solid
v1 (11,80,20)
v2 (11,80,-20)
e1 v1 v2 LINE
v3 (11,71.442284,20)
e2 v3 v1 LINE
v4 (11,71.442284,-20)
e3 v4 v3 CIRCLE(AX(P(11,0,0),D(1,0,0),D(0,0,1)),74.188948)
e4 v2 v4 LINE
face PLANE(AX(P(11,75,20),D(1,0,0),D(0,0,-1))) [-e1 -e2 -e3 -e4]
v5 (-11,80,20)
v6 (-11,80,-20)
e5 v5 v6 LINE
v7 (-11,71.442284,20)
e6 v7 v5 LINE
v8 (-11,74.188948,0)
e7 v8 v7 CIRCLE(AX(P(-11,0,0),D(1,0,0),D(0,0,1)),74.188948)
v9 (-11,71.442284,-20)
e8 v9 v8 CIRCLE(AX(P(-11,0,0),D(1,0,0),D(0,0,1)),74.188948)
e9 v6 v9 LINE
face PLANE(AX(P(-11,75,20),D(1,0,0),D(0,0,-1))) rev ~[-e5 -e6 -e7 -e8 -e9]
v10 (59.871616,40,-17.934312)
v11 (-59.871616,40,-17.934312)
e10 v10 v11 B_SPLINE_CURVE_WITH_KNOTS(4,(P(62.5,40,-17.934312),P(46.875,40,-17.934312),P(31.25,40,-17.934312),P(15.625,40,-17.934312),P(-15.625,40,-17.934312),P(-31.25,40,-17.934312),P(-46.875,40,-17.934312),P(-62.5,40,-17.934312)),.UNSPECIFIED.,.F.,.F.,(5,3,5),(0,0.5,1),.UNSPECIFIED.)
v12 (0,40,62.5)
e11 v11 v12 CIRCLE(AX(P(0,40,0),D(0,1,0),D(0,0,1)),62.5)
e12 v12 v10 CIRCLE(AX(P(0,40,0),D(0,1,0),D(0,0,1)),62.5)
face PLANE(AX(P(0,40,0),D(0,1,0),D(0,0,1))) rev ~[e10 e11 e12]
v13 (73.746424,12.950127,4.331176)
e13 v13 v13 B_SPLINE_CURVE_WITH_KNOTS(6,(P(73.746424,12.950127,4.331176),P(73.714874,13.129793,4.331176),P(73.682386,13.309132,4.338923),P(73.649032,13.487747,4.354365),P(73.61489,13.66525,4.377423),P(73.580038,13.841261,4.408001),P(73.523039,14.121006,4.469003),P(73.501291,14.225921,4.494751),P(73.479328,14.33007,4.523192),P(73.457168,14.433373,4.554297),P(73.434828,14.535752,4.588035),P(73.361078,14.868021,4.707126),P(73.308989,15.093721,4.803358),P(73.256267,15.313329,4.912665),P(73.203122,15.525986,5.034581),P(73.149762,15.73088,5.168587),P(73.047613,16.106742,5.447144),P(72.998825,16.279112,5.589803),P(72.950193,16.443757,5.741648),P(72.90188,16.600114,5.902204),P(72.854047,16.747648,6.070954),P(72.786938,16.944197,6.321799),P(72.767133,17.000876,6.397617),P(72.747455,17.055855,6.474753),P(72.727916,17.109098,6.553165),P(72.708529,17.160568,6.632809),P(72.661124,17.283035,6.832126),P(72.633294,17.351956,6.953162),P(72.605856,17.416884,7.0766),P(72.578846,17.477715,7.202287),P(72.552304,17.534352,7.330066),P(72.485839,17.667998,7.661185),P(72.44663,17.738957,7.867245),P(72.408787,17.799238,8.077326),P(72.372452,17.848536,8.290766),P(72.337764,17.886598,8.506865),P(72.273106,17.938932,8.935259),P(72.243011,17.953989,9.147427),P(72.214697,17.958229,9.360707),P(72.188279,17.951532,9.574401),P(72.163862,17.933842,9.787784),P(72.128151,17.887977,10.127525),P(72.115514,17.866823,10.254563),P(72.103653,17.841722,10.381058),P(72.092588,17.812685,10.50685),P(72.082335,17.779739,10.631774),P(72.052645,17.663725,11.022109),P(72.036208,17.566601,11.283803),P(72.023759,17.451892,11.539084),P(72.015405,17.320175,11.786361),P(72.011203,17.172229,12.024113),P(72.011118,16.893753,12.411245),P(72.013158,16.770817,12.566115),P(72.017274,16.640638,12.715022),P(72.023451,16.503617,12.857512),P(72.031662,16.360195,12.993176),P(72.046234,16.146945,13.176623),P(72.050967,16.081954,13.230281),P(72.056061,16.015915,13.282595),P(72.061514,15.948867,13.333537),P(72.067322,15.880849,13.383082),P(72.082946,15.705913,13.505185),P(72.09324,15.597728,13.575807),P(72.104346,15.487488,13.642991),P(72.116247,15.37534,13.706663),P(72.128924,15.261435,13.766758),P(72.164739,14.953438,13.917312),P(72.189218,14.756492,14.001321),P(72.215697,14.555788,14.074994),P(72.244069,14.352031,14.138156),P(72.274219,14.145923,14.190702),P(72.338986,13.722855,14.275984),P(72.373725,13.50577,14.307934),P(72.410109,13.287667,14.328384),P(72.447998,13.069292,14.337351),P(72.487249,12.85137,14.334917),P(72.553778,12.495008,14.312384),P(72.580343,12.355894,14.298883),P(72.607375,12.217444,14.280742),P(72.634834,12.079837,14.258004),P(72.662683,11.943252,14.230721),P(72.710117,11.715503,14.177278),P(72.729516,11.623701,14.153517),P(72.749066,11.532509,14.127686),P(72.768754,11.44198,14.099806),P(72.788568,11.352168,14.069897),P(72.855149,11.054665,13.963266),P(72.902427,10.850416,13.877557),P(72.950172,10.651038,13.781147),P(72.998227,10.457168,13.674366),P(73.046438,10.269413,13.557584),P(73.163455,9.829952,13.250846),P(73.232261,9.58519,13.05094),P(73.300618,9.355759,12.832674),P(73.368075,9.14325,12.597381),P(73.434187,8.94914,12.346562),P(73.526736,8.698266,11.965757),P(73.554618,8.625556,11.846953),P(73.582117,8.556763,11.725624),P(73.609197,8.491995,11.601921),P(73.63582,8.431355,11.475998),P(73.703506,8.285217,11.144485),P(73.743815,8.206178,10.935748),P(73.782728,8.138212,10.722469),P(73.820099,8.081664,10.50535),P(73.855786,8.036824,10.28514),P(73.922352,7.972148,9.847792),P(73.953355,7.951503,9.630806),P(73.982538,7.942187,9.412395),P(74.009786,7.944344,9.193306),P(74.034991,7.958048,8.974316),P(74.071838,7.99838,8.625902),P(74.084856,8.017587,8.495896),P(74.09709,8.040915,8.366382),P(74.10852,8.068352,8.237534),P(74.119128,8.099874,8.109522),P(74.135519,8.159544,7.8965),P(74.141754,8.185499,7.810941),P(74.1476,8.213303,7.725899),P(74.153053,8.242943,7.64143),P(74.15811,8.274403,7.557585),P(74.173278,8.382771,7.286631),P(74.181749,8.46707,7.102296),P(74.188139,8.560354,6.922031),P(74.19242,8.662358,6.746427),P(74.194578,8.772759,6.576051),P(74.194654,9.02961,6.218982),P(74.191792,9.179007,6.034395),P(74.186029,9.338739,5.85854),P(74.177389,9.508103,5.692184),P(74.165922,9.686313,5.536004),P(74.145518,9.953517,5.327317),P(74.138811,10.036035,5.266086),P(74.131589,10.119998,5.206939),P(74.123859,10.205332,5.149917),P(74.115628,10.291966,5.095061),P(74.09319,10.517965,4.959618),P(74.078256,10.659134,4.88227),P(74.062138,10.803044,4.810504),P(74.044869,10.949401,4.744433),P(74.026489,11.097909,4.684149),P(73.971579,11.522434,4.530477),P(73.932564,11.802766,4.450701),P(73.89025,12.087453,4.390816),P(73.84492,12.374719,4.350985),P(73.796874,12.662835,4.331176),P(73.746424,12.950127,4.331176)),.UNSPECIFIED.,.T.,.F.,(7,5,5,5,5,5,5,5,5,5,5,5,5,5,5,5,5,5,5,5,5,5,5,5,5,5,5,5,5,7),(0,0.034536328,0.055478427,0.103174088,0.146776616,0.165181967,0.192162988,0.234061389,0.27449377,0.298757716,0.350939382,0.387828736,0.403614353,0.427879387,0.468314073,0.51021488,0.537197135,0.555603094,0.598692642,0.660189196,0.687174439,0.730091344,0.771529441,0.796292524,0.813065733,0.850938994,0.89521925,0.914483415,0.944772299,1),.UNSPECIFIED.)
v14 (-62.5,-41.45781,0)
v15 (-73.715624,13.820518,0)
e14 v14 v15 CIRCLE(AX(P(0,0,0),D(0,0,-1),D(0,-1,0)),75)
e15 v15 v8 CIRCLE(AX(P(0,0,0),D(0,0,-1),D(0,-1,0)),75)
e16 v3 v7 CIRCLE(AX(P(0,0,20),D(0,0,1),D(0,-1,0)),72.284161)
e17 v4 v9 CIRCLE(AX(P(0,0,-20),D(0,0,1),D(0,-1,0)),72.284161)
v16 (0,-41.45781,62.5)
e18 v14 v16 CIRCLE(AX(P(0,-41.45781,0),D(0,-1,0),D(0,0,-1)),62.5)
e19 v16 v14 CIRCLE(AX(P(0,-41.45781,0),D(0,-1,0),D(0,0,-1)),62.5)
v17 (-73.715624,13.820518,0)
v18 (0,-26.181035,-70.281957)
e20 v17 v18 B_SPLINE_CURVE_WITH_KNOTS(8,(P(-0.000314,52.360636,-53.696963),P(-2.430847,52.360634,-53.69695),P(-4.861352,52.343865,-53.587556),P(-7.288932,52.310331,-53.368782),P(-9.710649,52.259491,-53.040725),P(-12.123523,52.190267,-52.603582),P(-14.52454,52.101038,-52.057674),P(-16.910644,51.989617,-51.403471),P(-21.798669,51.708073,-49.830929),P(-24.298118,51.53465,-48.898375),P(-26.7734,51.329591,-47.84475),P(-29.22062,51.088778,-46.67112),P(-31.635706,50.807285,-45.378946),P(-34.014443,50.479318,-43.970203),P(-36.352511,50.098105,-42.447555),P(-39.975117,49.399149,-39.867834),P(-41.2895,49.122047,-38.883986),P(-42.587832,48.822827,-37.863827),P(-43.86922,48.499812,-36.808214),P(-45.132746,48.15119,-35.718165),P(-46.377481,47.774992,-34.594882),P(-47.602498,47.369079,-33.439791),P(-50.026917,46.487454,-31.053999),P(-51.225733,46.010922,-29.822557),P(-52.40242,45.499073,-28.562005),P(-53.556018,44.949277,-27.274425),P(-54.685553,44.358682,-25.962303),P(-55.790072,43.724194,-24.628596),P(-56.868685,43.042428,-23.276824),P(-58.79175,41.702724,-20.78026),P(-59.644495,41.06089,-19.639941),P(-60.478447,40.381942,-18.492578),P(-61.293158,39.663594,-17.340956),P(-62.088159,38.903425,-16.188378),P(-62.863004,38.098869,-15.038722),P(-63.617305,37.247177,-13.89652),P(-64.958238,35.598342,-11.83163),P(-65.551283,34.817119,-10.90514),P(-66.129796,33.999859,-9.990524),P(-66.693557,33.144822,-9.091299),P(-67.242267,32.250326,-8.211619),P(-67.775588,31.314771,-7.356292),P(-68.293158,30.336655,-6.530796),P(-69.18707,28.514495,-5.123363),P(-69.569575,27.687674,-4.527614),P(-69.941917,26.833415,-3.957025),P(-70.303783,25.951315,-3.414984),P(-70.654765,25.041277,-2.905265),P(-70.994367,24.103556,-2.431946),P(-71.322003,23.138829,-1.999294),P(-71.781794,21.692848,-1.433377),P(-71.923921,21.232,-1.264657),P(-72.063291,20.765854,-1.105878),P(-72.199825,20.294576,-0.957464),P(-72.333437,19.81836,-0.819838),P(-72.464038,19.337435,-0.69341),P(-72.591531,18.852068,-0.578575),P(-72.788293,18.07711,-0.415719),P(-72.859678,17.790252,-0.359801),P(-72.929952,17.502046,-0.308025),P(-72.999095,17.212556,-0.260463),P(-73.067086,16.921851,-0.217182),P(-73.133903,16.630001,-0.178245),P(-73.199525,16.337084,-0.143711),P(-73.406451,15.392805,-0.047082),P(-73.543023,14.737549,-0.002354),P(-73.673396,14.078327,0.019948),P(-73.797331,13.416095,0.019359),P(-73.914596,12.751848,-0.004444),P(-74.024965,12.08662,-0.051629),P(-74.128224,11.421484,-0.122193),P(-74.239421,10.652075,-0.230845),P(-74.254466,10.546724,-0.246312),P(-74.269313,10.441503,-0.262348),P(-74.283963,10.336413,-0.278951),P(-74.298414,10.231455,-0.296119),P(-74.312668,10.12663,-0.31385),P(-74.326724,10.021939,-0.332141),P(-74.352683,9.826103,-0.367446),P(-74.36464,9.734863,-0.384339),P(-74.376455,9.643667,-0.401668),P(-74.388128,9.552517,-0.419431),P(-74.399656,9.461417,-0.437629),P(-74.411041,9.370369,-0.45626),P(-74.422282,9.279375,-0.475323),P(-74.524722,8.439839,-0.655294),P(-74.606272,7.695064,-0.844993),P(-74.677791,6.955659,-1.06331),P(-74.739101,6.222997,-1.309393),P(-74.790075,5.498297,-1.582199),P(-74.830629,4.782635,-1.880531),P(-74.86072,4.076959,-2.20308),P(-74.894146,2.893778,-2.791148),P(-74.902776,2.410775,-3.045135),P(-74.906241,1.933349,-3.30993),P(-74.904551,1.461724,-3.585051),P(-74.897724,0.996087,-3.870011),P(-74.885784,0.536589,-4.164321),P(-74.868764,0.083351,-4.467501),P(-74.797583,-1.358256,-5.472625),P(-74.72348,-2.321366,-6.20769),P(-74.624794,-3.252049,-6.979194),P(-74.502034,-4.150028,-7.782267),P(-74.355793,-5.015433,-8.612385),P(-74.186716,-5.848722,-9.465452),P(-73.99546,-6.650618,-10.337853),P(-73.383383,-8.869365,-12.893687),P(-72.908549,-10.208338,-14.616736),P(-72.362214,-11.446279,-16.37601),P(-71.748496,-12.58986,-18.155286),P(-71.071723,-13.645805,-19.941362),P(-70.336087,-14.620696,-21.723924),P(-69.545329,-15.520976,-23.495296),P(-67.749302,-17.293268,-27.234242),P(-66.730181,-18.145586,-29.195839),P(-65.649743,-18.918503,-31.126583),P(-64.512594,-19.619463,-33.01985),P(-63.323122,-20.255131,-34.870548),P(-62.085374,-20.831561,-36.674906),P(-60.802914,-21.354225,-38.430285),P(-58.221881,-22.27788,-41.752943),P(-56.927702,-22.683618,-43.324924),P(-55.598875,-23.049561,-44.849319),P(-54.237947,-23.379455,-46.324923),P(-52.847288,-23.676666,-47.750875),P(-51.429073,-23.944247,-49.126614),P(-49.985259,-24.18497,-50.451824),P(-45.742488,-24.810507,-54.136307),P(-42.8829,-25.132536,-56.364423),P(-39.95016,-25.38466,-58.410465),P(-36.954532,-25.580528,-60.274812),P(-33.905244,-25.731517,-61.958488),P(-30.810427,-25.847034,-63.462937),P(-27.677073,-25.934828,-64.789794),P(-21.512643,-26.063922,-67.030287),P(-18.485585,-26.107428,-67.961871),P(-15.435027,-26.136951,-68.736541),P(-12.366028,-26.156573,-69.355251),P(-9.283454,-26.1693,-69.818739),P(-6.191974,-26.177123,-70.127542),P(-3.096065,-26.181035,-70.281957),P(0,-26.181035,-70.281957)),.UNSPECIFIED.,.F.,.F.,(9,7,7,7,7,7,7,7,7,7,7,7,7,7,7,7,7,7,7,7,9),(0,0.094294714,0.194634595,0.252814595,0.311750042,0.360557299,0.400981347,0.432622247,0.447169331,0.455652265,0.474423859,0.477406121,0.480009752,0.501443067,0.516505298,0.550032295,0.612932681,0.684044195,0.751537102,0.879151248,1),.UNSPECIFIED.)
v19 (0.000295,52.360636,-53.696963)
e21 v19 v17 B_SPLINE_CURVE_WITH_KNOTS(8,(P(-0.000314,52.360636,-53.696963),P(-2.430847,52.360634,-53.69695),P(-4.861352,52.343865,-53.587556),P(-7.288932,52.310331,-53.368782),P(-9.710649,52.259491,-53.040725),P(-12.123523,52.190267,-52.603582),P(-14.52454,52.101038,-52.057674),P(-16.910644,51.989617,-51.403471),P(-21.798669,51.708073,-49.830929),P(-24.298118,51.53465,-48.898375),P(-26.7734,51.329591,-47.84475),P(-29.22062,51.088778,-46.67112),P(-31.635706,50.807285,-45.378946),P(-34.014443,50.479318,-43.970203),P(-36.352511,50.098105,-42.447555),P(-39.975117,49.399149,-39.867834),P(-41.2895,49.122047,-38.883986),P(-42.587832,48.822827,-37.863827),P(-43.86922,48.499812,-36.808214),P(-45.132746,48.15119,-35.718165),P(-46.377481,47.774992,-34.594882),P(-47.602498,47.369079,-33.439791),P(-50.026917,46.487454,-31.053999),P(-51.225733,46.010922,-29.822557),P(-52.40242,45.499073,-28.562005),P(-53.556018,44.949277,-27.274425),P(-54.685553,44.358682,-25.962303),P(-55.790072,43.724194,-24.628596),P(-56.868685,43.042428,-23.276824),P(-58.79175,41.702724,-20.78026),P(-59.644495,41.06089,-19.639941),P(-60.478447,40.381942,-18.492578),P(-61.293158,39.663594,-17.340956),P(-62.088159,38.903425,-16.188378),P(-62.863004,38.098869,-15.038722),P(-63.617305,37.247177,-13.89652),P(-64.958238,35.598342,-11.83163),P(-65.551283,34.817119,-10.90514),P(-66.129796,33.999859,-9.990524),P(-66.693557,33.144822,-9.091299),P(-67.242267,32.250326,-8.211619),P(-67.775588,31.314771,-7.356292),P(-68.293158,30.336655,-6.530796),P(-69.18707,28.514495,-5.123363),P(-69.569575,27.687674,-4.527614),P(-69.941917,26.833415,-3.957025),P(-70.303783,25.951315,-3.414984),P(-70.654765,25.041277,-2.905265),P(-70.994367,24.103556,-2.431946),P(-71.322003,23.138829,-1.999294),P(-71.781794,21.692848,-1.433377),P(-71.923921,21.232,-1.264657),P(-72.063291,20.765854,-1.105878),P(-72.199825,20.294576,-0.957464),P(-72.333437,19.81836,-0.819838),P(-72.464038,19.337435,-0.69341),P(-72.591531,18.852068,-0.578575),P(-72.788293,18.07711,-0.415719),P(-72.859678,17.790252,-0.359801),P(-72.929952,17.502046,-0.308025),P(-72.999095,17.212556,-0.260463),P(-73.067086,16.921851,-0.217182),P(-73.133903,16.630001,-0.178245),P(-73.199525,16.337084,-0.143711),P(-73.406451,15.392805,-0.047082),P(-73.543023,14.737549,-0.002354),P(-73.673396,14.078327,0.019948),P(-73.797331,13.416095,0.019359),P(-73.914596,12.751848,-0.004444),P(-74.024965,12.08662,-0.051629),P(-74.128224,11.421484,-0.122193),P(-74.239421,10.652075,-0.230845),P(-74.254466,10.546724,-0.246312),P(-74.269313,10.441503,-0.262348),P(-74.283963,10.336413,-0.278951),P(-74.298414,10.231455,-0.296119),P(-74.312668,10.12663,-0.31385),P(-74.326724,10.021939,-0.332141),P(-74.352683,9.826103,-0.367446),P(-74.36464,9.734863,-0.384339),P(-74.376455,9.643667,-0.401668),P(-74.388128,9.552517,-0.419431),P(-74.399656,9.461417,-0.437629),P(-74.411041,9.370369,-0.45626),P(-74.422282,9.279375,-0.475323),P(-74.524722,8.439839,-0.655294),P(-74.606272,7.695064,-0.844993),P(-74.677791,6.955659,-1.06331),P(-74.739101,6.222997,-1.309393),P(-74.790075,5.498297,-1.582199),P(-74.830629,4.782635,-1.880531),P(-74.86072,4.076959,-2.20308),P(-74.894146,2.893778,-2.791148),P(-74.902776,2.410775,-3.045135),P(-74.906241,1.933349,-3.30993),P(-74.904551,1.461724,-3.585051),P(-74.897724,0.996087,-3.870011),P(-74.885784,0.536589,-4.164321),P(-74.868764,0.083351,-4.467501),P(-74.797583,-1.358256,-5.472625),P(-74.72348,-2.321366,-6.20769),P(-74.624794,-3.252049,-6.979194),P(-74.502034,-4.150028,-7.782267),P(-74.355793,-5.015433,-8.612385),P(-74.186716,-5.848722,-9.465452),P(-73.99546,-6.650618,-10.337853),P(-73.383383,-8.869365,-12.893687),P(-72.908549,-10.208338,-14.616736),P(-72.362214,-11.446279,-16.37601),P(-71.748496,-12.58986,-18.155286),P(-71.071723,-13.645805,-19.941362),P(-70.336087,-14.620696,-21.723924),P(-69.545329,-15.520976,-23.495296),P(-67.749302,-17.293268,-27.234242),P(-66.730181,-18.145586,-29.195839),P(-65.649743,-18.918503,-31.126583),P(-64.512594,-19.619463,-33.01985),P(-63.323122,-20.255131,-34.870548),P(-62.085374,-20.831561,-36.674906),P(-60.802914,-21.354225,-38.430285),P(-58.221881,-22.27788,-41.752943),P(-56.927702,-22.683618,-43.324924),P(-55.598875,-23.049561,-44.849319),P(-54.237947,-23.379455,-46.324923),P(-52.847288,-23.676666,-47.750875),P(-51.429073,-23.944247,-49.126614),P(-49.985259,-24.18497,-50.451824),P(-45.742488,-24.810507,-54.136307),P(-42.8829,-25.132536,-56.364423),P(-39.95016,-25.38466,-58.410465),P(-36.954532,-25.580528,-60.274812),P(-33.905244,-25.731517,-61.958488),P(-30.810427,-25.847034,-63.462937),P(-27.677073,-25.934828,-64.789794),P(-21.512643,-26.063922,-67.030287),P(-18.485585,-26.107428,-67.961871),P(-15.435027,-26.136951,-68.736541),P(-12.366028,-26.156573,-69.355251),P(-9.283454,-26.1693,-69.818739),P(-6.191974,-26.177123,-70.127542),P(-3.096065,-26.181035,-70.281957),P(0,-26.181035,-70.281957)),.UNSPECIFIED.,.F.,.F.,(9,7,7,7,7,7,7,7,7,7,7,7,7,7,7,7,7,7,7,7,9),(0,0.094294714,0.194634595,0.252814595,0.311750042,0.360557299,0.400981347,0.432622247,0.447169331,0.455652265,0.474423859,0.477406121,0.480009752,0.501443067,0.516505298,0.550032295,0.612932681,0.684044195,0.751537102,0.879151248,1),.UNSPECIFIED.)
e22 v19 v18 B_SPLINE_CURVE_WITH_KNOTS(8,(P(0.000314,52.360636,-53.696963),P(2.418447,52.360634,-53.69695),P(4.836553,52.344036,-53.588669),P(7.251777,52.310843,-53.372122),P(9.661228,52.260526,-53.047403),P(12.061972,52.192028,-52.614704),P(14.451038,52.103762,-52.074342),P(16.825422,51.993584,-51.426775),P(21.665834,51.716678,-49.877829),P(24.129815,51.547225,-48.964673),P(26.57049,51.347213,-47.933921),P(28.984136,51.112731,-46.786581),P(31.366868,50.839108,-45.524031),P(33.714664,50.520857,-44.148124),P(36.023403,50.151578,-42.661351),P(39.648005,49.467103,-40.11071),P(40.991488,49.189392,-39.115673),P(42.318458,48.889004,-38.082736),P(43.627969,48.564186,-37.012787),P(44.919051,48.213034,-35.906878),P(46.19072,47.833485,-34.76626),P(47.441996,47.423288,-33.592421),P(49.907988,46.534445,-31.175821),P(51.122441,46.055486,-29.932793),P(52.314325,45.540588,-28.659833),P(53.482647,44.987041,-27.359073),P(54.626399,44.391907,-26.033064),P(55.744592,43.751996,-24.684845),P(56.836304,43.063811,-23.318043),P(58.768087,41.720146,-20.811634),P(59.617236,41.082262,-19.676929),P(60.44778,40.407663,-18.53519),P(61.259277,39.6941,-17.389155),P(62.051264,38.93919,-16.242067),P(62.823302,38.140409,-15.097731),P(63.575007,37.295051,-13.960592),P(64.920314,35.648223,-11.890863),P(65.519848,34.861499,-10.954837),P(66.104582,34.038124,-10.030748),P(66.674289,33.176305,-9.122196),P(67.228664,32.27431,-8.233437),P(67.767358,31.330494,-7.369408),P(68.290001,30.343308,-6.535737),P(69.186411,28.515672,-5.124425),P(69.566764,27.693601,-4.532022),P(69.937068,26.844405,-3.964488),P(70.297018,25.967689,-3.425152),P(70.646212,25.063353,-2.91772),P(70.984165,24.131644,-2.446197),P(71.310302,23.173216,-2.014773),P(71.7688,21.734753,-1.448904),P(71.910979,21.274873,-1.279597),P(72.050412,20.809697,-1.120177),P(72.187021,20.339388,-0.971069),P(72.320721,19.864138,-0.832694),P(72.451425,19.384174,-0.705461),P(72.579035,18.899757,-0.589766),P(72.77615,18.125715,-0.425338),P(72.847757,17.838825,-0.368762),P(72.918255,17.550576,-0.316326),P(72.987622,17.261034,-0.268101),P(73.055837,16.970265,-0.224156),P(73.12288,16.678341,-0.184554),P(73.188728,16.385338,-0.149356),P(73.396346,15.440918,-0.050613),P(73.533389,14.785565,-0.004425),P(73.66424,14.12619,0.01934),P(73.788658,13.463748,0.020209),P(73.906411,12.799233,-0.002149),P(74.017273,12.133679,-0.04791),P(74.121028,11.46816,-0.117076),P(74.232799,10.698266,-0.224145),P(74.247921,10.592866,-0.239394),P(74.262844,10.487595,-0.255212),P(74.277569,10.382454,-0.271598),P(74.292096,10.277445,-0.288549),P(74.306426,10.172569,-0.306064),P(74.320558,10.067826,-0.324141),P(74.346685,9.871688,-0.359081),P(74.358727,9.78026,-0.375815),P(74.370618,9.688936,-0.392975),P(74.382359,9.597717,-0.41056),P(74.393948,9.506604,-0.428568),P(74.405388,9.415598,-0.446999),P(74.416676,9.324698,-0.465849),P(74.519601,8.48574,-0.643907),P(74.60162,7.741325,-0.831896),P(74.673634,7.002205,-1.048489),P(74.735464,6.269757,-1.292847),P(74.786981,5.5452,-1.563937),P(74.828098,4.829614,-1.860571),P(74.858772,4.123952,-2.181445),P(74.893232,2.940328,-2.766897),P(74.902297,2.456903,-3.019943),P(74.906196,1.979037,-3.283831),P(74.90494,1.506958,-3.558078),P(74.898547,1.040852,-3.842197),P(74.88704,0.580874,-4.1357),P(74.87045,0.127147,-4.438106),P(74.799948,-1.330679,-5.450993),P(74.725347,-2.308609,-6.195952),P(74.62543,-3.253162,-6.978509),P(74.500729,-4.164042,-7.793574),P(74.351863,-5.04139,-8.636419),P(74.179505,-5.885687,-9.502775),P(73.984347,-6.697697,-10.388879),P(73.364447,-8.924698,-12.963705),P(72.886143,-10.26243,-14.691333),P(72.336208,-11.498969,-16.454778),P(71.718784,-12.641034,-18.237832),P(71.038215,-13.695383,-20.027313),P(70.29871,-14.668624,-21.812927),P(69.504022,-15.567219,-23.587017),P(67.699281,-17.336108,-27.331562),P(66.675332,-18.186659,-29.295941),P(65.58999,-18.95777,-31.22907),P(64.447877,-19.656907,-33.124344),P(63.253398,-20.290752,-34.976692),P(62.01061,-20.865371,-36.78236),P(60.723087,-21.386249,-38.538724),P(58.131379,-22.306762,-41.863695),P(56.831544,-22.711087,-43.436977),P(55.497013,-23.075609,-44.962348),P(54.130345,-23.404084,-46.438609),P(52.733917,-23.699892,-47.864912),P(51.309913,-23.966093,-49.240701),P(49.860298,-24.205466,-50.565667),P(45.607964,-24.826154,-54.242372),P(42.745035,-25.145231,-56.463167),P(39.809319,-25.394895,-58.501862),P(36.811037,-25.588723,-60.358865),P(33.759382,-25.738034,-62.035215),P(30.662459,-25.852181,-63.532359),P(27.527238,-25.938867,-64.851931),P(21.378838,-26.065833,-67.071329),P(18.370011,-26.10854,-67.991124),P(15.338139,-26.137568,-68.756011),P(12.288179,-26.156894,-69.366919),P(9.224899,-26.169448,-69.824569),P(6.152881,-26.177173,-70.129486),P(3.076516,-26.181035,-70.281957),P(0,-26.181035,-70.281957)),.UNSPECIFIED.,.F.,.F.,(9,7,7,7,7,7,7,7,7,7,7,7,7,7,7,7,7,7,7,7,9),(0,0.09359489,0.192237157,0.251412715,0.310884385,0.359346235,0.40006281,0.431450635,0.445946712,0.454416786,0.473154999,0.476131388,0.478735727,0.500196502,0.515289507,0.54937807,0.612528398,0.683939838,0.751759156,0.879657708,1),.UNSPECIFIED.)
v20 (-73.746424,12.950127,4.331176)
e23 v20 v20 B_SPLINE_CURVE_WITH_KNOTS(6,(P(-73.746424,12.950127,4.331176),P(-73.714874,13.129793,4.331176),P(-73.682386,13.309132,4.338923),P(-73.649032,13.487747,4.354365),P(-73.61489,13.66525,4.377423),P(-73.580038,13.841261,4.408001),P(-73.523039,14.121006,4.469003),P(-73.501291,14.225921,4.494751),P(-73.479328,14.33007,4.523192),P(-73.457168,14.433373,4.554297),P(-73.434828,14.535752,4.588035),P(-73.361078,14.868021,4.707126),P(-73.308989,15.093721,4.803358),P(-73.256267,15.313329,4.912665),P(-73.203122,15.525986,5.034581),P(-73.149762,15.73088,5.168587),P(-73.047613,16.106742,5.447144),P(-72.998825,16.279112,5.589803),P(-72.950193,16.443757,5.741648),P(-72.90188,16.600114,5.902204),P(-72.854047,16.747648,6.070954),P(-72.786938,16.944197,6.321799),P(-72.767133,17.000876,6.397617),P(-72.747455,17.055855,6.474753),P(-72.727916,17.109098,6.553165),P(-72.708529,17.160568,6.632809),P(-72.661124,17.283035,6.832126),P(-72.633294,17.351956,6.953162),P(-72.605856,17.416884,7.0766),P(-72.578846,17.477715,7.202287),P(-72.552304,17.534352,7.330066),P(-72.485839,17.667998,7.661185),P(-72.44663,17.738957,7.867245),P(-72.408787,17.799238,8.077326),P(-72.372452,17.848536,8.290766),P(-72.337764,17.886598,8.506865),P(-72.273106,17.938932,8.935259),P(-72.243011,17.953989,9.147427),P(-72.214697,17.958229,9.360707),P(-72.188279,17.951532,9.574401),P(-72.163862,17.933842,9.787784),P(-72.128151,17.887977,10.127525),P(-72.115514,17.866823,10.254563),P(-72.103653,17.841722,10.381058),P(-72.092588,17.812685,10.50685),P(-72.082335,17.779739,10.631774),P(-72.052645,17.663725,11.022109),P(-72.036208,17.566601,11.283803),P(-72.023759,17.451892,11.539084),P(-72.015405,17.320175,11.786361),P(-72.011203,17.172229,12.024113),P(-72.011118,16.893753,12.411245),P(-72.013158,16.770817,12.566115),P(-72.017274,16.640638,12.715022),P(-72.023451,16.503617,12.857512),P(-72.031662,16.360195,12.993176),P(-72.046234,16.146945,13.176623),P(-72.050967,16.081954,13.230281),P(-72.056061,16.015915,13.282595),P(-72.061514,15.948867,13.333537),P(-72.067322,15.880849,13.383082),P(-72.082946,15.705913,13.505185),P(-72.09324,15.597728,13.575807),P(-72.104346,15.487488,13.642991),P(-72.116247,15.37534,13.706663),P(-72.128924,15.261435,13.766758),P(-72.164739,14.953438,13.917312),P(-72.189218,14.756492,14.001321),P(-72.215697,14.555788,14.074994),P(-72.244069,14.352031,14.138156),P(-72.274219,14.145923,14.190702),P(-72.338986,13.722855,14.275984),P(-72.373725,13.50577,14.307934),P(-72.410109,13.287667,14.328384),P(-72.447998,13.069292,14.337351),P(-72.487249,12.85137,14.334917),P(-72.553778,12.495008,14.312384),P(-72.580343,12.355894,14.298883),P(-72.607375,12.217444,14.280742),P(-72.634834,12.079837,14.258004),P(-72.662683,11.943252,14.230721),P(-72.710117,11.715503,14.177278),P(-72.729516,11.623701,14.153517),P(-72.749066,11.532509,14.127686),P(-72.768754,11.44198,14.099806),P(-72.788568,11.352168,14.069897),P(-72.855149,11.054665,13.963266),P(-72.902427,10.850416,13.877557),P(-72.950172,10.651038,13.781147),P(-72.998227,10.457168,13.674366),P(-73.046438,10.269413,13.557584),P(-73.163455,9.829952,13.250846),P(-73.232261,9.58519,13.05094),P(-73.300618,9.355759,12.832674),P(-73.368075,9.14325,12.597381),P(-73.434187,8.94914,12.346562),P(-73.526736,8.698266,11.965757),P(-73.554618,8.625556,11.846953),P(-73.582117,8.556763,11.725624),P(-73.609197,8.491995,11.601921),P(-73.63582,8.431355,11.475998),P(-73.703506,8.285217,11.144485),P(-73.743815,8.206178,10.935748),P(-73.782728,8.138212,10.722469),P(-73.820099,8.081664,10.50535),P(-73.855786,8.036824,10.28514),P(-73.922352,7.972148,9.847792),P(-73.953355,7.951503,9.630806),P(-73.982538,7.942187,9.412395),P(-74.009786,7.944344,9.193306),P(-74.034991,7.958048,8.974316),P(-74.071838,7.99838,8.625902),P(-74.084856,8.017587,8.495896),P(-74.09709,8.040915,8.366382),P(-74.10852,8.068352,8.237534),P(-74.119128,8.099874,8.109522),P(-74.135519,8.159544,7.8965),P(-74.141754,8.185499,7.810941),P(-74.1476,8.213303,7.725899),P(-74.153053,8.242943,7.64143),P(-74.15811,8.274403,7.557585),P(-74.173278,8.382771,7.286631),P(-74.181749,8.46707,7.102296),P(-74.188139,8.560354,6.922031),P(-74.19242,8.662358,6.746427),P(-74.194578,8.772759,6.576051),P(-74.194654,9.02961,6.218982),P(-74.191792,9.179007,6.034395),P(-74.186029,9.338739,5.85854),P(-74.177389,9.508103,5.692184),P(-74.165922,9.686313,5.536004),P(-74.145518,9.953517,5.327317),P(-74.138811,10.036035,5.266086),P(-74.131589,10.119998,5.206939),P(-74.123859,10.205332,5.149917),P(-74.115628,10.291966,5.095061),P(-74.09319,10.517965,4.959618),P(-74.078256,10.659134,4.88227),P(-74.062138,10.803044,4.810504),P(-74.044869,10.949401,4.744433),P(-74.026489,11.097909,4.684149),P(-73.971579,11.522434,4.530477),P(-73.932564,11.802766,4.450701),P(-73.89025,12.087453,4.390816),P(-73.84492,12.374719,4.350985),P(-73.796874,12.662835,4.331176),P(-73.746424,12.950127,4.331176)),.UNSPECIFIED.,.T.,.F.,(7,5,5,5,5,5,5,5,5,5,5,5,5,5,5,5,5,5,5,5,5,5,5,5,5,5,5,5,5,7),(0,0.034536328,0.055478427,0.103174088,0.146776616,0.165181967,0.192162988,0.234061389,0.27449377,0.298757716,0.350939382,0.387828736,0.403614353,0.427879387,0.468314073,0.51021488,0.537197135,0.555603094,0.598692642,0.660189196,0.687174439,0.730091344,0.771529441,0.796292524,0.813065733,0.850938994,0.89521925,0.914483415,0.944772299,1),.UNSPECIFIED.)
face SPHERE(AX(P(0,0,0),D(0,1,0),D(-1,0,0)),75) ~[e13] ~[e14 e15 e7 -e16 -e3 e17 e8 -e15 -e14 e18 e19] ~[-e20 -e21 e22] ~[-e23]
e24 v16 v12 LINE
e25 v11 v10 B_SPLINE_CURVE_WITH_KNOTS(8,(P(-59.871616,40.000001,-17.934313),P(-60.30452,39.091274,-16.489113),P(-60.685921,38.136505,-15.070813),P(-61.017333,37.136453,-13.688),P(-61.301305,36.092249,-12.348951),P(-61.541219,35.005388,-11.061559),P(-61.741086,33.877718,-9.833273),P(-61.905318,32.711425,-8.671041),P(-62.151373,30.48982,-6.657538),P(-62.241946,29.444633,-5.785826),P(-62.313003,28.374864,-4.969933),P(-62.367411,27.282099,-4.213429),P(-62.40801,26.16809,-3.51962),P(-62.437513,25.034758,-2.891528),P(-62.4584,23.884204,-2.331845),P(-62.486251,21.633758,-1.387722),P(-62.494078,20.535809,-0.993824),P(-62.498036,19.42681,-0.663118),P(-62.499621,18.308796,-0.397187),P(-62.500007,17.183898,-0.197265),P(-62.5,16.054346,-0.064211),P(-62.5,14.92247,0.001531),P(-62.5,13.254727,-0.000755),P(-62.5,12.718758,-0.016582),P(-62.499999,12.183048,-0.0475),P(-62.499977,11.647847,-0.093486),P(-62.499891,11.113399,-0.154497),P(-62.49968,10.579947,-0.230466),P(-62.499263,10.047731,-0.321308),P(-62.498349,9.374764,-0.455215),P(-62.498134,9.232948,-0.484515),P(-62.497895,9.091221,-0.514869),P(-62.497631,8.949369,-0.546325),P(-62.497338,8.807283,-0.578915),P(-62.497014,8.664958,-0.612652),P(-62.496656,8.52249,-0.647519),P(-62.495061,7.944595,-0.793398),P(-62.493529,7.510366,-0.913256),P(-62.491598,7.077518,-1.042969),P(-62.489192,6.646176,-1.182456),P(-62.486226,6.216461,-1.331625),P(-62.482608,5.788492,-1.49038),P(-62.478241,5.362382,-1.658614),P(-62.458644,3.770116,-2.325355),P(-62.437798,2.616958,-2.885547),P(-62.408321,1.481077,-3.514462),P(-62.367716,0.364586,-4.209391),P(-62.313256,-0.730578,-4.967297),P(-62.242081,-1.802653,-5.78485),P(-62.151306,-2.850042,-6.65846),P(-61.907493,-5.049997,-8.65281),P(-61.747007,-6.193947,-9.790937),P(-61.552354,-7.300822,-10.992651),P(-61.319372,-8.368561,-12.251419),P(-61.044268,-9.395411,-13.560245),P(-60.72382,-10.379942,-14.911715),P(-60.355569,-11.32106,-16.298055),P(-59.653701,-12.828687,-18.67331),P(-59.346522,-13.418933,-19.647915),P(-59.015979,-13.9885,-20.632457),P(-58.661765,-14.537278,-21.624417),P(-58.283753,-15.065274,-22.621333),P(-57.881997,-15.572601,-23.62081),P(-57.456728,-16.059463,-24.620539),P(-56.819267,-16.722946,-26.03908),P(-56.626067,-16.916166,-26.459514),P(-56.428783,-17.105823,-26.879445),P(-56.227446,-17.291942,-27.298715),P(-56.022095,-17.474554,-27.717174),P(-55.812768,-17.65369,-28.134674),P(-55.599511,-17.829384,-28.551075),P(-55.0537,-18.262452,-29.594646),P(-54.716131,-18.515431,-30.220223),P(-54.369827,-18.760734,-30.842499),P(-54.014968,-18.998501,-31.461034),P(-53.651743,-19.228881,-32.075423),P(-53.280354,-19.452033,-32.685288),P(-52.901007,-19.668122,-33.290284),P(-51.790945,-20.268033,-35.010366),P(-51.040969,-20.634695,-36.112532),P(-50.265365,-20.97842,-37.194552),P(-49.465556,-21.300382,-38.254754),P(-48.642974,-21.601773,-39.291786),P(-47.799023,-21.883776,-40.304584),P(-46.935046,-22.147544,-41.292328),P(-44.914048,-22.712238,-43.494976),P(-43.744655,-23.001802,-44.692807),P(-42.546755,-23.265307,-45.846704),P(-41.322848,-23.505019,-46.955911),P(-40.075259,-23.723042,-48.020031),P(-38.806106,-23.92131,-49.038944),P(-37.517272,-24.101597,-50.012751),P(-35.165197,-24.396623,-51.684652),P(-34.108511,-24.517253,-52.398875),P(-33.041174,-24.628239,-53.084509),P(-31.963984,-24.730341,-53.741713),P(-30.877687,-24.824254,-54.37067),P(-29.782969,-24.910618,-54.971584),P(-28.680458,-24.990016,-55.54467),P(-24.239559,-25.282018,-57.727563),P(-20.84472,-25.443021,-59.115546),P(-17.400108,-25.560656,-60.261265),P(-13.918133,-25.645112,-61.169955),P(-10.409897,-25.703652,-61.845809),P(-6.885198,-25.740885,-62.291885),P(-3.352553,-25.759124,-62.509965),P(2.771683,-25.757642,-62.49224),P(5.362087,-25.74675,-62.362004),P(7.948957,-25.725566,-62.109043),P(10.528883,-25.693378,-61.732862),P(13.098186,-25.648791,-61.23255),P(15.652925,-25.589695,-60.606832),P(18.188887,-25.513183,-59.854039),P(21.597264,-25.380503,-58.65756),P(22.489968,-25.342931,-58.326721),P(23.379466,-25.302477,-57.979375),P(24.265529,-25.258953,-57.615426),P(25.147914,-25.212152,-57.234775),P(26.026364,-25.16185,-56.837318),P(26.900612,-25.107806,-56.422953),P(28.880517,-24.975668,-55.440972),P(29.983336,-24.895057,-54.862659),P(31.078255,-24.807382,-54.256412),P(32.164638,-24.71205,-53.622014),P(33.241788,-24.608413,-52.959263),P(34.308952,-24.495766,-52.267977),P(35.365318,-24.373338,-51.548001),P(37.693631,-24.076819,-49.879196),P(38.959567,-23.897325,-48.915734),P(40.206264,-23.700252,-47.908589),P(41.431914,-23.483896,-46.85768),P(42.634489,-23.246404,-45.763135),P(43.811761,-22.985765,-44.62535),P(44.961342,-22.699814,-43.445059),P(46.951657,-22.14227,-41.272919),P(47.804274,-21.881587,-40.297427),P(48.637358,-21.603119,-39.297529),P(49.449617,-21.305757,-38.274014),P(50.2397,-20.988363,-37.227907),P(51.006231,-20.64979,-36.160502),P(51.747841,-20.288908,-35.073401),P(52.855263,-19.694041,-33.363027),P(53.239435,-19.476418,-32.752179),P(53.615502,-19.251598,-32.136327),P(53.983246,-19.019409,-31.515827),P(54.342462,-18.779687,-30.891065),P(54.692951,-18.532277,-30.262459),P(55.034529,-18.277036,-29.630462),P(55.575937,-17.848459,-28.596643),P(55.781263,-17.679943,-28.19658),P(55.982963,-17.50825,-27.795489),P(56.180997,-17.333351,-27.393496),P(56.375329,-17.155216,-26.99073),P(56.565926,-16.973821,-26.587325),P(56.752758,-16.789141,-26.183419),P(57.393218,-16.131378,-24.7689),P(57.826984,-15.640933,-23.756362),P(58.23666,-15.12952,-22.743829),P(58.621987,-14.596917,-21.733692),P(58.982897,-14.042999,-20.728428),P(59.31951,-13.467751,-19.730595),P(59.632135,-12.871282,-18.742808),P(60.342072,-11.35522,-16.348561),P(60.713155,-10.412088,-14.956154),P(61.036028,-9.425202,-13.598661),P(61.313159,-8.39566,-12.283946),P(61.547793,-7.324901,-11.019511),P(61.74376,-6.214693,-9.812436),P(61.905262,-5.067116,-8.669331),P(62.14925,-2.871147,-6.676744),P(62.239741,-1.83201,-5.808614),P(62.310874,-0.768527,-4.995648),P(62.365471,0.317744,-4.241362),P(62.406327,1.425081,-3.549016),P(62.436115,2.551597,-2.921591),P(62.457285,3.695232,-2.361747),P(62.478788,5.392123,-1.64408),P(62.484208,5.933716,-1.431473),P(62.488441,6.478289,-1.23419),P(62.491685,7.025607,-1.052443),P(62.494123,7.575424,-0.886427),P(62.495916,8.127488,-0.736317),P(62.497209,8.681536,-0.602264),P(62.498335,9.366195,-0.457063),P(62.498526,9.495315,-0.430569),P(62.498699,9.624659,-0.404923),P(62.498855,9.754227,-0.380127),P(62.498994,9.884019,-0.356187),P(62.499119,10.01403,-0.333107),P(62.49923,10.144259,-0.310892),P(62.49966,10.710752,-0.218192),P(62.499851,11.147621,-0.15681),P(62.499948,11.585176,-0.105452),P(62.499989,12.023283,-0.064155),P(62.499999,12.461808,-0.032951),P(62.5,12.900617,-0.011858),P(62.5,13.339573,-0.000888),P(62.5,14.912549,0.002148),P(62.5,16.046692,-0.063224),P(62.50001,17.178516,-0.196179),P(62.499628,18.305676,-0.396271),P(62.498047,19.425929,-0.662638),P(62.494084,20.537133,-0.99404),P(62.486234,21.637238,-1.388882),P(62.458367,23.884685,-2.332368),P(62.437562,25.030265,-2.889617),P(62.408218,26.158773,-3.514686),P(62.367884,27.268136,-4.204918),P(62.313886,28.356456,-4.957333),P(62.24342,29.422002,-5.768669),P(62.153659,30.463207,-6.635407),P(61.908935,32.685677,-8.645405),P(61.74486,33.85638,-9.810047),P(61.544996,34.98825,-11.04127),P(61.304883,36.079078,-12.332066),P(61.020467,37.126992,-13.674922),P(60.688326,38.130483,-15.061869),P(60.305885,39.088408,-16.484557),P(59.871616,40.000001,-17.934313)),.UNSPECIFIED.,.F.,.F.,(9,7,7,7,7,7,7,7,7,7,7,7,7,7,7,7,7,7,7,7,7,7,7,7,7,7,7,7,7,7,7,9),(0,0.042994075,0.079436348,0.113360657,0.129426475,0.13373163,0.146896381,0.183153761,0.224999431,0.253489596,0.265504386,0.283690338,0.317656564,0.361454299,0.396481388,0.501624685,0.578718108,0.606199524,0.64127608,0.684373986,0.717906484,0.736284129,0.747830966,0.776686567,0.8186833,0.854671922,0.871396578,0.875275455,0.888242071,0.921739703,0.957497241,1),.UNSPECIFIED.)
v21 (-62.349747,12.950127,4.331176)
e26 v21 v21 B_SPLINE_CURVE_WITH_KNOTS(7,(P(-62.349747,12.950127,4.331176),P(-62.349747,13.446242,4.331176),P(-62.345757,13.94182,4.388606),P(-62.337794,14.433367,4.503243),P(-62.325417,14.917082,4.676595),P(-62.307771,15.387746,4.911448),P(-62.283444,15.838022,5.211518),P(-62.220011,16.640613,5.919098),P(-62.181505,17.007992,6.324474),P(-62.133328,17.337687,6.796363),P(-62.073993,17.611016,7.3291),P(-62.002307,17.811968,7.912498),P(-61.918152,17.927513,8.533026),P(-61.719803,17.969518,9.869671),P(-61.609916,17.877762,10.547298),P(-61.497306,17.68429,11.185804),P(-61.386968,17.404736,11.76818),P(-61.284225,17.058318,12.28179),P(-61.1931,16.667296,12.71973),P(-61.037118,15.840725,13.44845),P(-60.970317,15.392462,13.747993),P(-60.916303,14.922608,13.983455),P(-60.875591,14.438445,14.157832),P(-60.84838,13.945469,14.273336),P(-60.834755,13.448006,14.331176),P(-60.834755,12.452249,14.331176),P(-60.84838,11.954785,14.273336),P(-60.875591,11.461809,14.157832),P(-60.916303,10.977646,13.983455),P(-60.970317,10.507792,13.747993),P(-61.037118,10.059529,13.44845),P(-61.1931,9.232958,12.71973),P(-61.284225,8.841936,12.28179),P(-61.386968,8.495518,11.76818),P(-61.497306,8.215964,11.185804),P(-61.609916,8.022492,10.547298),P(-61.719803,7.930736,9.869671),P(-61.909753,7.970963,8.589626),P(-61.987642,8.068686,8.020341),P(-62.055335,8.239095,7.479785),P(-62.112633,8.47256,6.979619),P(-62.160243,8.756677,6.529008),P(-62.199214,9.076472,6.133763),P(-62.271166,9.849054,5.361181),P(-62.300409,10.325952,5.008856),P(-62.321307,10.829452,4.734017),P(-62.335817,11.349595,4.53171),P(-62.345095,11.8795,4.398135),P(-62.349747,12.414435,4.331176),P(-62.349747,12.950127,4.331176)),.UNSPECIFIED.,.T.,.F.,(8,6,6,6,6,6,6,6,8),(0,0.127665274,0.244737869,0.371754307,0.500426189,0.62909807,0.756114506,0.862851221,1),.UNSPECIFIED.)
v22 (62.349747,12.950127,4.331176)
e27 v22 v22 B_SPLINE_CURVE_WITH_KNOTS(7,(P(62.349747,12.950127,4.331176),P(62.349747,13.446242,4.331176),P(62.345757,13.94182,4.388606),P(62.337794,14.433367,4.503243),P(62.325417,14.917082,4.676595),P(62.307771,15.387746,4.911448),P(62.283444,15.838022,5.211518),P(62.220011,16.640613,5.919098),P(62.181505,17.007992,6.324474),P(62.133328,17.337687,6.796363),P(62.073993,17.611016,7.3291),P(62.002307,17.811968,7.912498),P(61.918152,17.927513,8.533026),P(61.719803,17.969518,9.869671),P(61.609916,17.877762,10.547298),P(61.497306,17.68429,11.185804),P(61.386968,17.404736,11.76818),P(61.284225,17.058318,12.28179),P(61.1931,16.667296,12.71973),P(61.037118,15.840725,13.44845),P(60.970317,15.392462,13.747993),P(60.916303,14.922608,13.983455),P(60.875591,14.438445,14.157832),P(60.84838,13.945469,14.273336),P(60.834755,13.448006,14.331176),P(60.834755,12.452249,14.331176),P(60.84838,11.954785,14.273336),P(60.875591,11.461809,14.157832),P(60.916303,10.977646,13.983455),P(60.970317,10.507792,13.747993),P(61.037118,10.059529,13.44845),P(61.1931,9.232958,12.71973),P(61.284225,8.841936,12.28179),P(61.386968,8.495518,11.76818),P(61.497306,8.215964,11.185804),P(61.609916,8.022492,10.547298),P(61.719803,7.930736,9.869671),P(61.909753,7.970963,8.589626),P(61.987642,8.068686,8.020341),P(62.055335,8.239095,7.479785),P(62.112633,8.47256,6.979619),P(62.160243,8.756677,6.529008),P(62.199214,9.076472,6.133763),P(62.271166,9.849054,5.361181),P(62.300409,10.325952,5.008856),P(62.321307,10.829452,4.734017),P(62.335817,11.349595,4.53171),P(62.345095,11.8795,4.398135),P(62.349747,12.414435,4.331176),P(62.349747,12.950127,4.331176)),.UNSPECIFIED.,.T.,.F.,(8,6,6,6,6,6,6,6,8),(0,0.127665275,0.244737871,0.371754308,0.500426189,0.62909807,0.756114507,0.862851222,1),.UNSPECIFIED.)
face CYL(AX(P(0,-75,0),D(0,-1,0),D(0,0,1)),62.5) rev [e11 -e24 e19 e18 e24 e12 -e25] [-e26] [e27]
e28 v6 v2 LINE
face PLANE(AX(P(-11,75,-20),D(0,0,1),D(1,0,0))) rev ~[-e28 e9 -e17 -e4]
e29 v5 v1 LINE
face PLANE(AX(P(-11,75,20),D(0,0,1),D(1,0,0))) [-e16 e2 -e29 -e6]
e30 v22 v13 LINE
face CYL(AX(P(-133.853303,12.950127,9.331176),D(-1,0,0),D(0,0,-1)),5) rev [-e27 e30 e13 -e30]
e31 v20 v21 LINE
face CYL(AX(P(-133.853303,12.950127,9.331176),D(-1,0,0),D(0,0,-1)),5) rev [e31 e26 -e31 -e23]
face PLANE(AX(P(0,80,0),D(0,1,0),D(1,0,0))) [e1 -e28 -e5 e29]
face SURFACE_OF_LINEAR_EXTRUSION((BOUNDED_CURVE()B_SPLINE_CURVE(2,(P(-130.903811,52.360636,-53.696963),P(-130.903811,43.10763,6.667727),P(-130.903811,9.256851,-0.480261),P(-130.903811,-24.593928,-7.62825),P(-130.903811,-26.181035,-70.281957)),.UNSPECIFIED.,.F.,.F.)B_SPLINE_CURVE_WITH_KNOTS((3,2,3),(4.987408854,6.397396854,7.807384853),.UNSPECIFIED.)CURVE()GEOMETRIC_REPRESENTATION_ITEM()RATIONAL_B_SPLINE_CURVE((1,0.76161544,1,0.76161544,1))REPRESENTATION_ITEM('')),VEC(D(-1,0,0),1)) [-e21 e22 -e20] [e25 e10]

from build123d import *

# Parameters (mm, degrees)
CUT_EXTRUDE2_DEPTH      = 40
CUT_EXTRUDE2_DEPTH_BACK = 75
SKETCH2_R               = 62.5
CUT_EXTRUDE4_DEPTH      = 130.903810568
CUT_EXTRUDE4_DEPTH_BACK = 130.903810568
SKETCH6_W               = 22
SKETCH6_H               = 40
BOSS_EXTRUDE1_DEPTH     = 5
CUT_EXTRUDE5_DEPTH      = 133.853302556
CUT_EXTRUDE5_DEPTH_BACK = 133.853302556
SKETCH8_R               = 5


with BuildPart() as part:
    # Sketch1 → Revolve1 (revolve)
    with BuildSketch(Plane.XY):
        with BuildLine():
            Line((0, 75), (0, -75))
            ThreePointArc((0, -75), (-75, 0), (0, 75))
        make_face()
    revolve(axis=Axis((0, 124.688842105, 0), (0, -1, 0)))

    # Sketch2 → Cut-Extrude2 (cut, two sides: drawn at the far end of the back side and taken through both)
    with BuildSketch(Plane(origin=(0, 0, 0), x_dir=(1, 0, 0), z_dir=(0, 1, 0)).offset(-CUT_EXTRUDE2_DEPTH_BACK)):
        with Locations(Location((0, 0, 0), (0, 0, 270))):
            Circle(SKETCH2_R)
    extrude(amount=CUT_EXTRUDE2_DEPTH + CUT_EXTRUDE2_DEPTH_BACK, mode=Mode.SUBTRACT)

    # Sketch3 → Cut-Extrude4 (cut, two sides: drawn at the far end of the back side and taken through both)
    with BuildSketch(Plane(origin=(0, 0, 0), x_dir=(0, 0, -1), z_dir=(1, 0, 0)).offset(-CUT_EXTRUDE4_DEPTH_BACK)):
        with BuildLine():
            ThreePointArc((70.281956591, -26.181034696), (73.381820705, 15.495431263), (53.696962514, 52.360636137))
            add(Edge.make_bspline(
                [(53.696962514, 52.360636137), (-6.667727446, 43.107629562), (0.48026113, 9.256850763), (7.628249706, -24.593928036), (70.281956591, -26.181034696)],
                knots=[4.987408854, 4.987408854, 4.987408854, 6.397396854, 6.397396854, 7.807384853, 7.807384853, 7.807384853], degree=2, weights=[1, 0.76161544, 1, 0.76161544, 1]))
        make_face()
    extrude(amount=CUT_EXTRUDE4_DEPTH + CUT_EXTRUDE4_DEPTH_BACK, mode=Mode.SUBTRACT)

    # Sketch6 → Boss-Extrude1 (add, symmetric)
    with BuildSketch(Plane(origin=(0, 75, 0), x_dir=(1, 0, 0), z_dir=(0, 1, 0))):
        Rectangle(SKETCH6_W, SKETCH6_H)
    extrude(amount=BOSS_EXTRUDE1_DEPTH, both=True)

    # Sketch8 → Cut-Extrude5 (cut, two sides: drawn at the far end of the back side and taken through both)
    with BuildSketch(Plane(origin=(0, 0, 0), x_dir=(0, 0, -1), z_dir=(1, 0, 0)).offset(-CUT_EXTRUDE5_DEPTH_BACK)):
        with Locations((-9.331175984, 12.950127065)):
            Circle(SKETCH8_R)
    extrude(amount=CUT_EXTRUDE5_DEPTH + CUT_EXTRUDE5_DEPTH_BACK, mode=Mode.SUBTRACT)


solid = part.part
